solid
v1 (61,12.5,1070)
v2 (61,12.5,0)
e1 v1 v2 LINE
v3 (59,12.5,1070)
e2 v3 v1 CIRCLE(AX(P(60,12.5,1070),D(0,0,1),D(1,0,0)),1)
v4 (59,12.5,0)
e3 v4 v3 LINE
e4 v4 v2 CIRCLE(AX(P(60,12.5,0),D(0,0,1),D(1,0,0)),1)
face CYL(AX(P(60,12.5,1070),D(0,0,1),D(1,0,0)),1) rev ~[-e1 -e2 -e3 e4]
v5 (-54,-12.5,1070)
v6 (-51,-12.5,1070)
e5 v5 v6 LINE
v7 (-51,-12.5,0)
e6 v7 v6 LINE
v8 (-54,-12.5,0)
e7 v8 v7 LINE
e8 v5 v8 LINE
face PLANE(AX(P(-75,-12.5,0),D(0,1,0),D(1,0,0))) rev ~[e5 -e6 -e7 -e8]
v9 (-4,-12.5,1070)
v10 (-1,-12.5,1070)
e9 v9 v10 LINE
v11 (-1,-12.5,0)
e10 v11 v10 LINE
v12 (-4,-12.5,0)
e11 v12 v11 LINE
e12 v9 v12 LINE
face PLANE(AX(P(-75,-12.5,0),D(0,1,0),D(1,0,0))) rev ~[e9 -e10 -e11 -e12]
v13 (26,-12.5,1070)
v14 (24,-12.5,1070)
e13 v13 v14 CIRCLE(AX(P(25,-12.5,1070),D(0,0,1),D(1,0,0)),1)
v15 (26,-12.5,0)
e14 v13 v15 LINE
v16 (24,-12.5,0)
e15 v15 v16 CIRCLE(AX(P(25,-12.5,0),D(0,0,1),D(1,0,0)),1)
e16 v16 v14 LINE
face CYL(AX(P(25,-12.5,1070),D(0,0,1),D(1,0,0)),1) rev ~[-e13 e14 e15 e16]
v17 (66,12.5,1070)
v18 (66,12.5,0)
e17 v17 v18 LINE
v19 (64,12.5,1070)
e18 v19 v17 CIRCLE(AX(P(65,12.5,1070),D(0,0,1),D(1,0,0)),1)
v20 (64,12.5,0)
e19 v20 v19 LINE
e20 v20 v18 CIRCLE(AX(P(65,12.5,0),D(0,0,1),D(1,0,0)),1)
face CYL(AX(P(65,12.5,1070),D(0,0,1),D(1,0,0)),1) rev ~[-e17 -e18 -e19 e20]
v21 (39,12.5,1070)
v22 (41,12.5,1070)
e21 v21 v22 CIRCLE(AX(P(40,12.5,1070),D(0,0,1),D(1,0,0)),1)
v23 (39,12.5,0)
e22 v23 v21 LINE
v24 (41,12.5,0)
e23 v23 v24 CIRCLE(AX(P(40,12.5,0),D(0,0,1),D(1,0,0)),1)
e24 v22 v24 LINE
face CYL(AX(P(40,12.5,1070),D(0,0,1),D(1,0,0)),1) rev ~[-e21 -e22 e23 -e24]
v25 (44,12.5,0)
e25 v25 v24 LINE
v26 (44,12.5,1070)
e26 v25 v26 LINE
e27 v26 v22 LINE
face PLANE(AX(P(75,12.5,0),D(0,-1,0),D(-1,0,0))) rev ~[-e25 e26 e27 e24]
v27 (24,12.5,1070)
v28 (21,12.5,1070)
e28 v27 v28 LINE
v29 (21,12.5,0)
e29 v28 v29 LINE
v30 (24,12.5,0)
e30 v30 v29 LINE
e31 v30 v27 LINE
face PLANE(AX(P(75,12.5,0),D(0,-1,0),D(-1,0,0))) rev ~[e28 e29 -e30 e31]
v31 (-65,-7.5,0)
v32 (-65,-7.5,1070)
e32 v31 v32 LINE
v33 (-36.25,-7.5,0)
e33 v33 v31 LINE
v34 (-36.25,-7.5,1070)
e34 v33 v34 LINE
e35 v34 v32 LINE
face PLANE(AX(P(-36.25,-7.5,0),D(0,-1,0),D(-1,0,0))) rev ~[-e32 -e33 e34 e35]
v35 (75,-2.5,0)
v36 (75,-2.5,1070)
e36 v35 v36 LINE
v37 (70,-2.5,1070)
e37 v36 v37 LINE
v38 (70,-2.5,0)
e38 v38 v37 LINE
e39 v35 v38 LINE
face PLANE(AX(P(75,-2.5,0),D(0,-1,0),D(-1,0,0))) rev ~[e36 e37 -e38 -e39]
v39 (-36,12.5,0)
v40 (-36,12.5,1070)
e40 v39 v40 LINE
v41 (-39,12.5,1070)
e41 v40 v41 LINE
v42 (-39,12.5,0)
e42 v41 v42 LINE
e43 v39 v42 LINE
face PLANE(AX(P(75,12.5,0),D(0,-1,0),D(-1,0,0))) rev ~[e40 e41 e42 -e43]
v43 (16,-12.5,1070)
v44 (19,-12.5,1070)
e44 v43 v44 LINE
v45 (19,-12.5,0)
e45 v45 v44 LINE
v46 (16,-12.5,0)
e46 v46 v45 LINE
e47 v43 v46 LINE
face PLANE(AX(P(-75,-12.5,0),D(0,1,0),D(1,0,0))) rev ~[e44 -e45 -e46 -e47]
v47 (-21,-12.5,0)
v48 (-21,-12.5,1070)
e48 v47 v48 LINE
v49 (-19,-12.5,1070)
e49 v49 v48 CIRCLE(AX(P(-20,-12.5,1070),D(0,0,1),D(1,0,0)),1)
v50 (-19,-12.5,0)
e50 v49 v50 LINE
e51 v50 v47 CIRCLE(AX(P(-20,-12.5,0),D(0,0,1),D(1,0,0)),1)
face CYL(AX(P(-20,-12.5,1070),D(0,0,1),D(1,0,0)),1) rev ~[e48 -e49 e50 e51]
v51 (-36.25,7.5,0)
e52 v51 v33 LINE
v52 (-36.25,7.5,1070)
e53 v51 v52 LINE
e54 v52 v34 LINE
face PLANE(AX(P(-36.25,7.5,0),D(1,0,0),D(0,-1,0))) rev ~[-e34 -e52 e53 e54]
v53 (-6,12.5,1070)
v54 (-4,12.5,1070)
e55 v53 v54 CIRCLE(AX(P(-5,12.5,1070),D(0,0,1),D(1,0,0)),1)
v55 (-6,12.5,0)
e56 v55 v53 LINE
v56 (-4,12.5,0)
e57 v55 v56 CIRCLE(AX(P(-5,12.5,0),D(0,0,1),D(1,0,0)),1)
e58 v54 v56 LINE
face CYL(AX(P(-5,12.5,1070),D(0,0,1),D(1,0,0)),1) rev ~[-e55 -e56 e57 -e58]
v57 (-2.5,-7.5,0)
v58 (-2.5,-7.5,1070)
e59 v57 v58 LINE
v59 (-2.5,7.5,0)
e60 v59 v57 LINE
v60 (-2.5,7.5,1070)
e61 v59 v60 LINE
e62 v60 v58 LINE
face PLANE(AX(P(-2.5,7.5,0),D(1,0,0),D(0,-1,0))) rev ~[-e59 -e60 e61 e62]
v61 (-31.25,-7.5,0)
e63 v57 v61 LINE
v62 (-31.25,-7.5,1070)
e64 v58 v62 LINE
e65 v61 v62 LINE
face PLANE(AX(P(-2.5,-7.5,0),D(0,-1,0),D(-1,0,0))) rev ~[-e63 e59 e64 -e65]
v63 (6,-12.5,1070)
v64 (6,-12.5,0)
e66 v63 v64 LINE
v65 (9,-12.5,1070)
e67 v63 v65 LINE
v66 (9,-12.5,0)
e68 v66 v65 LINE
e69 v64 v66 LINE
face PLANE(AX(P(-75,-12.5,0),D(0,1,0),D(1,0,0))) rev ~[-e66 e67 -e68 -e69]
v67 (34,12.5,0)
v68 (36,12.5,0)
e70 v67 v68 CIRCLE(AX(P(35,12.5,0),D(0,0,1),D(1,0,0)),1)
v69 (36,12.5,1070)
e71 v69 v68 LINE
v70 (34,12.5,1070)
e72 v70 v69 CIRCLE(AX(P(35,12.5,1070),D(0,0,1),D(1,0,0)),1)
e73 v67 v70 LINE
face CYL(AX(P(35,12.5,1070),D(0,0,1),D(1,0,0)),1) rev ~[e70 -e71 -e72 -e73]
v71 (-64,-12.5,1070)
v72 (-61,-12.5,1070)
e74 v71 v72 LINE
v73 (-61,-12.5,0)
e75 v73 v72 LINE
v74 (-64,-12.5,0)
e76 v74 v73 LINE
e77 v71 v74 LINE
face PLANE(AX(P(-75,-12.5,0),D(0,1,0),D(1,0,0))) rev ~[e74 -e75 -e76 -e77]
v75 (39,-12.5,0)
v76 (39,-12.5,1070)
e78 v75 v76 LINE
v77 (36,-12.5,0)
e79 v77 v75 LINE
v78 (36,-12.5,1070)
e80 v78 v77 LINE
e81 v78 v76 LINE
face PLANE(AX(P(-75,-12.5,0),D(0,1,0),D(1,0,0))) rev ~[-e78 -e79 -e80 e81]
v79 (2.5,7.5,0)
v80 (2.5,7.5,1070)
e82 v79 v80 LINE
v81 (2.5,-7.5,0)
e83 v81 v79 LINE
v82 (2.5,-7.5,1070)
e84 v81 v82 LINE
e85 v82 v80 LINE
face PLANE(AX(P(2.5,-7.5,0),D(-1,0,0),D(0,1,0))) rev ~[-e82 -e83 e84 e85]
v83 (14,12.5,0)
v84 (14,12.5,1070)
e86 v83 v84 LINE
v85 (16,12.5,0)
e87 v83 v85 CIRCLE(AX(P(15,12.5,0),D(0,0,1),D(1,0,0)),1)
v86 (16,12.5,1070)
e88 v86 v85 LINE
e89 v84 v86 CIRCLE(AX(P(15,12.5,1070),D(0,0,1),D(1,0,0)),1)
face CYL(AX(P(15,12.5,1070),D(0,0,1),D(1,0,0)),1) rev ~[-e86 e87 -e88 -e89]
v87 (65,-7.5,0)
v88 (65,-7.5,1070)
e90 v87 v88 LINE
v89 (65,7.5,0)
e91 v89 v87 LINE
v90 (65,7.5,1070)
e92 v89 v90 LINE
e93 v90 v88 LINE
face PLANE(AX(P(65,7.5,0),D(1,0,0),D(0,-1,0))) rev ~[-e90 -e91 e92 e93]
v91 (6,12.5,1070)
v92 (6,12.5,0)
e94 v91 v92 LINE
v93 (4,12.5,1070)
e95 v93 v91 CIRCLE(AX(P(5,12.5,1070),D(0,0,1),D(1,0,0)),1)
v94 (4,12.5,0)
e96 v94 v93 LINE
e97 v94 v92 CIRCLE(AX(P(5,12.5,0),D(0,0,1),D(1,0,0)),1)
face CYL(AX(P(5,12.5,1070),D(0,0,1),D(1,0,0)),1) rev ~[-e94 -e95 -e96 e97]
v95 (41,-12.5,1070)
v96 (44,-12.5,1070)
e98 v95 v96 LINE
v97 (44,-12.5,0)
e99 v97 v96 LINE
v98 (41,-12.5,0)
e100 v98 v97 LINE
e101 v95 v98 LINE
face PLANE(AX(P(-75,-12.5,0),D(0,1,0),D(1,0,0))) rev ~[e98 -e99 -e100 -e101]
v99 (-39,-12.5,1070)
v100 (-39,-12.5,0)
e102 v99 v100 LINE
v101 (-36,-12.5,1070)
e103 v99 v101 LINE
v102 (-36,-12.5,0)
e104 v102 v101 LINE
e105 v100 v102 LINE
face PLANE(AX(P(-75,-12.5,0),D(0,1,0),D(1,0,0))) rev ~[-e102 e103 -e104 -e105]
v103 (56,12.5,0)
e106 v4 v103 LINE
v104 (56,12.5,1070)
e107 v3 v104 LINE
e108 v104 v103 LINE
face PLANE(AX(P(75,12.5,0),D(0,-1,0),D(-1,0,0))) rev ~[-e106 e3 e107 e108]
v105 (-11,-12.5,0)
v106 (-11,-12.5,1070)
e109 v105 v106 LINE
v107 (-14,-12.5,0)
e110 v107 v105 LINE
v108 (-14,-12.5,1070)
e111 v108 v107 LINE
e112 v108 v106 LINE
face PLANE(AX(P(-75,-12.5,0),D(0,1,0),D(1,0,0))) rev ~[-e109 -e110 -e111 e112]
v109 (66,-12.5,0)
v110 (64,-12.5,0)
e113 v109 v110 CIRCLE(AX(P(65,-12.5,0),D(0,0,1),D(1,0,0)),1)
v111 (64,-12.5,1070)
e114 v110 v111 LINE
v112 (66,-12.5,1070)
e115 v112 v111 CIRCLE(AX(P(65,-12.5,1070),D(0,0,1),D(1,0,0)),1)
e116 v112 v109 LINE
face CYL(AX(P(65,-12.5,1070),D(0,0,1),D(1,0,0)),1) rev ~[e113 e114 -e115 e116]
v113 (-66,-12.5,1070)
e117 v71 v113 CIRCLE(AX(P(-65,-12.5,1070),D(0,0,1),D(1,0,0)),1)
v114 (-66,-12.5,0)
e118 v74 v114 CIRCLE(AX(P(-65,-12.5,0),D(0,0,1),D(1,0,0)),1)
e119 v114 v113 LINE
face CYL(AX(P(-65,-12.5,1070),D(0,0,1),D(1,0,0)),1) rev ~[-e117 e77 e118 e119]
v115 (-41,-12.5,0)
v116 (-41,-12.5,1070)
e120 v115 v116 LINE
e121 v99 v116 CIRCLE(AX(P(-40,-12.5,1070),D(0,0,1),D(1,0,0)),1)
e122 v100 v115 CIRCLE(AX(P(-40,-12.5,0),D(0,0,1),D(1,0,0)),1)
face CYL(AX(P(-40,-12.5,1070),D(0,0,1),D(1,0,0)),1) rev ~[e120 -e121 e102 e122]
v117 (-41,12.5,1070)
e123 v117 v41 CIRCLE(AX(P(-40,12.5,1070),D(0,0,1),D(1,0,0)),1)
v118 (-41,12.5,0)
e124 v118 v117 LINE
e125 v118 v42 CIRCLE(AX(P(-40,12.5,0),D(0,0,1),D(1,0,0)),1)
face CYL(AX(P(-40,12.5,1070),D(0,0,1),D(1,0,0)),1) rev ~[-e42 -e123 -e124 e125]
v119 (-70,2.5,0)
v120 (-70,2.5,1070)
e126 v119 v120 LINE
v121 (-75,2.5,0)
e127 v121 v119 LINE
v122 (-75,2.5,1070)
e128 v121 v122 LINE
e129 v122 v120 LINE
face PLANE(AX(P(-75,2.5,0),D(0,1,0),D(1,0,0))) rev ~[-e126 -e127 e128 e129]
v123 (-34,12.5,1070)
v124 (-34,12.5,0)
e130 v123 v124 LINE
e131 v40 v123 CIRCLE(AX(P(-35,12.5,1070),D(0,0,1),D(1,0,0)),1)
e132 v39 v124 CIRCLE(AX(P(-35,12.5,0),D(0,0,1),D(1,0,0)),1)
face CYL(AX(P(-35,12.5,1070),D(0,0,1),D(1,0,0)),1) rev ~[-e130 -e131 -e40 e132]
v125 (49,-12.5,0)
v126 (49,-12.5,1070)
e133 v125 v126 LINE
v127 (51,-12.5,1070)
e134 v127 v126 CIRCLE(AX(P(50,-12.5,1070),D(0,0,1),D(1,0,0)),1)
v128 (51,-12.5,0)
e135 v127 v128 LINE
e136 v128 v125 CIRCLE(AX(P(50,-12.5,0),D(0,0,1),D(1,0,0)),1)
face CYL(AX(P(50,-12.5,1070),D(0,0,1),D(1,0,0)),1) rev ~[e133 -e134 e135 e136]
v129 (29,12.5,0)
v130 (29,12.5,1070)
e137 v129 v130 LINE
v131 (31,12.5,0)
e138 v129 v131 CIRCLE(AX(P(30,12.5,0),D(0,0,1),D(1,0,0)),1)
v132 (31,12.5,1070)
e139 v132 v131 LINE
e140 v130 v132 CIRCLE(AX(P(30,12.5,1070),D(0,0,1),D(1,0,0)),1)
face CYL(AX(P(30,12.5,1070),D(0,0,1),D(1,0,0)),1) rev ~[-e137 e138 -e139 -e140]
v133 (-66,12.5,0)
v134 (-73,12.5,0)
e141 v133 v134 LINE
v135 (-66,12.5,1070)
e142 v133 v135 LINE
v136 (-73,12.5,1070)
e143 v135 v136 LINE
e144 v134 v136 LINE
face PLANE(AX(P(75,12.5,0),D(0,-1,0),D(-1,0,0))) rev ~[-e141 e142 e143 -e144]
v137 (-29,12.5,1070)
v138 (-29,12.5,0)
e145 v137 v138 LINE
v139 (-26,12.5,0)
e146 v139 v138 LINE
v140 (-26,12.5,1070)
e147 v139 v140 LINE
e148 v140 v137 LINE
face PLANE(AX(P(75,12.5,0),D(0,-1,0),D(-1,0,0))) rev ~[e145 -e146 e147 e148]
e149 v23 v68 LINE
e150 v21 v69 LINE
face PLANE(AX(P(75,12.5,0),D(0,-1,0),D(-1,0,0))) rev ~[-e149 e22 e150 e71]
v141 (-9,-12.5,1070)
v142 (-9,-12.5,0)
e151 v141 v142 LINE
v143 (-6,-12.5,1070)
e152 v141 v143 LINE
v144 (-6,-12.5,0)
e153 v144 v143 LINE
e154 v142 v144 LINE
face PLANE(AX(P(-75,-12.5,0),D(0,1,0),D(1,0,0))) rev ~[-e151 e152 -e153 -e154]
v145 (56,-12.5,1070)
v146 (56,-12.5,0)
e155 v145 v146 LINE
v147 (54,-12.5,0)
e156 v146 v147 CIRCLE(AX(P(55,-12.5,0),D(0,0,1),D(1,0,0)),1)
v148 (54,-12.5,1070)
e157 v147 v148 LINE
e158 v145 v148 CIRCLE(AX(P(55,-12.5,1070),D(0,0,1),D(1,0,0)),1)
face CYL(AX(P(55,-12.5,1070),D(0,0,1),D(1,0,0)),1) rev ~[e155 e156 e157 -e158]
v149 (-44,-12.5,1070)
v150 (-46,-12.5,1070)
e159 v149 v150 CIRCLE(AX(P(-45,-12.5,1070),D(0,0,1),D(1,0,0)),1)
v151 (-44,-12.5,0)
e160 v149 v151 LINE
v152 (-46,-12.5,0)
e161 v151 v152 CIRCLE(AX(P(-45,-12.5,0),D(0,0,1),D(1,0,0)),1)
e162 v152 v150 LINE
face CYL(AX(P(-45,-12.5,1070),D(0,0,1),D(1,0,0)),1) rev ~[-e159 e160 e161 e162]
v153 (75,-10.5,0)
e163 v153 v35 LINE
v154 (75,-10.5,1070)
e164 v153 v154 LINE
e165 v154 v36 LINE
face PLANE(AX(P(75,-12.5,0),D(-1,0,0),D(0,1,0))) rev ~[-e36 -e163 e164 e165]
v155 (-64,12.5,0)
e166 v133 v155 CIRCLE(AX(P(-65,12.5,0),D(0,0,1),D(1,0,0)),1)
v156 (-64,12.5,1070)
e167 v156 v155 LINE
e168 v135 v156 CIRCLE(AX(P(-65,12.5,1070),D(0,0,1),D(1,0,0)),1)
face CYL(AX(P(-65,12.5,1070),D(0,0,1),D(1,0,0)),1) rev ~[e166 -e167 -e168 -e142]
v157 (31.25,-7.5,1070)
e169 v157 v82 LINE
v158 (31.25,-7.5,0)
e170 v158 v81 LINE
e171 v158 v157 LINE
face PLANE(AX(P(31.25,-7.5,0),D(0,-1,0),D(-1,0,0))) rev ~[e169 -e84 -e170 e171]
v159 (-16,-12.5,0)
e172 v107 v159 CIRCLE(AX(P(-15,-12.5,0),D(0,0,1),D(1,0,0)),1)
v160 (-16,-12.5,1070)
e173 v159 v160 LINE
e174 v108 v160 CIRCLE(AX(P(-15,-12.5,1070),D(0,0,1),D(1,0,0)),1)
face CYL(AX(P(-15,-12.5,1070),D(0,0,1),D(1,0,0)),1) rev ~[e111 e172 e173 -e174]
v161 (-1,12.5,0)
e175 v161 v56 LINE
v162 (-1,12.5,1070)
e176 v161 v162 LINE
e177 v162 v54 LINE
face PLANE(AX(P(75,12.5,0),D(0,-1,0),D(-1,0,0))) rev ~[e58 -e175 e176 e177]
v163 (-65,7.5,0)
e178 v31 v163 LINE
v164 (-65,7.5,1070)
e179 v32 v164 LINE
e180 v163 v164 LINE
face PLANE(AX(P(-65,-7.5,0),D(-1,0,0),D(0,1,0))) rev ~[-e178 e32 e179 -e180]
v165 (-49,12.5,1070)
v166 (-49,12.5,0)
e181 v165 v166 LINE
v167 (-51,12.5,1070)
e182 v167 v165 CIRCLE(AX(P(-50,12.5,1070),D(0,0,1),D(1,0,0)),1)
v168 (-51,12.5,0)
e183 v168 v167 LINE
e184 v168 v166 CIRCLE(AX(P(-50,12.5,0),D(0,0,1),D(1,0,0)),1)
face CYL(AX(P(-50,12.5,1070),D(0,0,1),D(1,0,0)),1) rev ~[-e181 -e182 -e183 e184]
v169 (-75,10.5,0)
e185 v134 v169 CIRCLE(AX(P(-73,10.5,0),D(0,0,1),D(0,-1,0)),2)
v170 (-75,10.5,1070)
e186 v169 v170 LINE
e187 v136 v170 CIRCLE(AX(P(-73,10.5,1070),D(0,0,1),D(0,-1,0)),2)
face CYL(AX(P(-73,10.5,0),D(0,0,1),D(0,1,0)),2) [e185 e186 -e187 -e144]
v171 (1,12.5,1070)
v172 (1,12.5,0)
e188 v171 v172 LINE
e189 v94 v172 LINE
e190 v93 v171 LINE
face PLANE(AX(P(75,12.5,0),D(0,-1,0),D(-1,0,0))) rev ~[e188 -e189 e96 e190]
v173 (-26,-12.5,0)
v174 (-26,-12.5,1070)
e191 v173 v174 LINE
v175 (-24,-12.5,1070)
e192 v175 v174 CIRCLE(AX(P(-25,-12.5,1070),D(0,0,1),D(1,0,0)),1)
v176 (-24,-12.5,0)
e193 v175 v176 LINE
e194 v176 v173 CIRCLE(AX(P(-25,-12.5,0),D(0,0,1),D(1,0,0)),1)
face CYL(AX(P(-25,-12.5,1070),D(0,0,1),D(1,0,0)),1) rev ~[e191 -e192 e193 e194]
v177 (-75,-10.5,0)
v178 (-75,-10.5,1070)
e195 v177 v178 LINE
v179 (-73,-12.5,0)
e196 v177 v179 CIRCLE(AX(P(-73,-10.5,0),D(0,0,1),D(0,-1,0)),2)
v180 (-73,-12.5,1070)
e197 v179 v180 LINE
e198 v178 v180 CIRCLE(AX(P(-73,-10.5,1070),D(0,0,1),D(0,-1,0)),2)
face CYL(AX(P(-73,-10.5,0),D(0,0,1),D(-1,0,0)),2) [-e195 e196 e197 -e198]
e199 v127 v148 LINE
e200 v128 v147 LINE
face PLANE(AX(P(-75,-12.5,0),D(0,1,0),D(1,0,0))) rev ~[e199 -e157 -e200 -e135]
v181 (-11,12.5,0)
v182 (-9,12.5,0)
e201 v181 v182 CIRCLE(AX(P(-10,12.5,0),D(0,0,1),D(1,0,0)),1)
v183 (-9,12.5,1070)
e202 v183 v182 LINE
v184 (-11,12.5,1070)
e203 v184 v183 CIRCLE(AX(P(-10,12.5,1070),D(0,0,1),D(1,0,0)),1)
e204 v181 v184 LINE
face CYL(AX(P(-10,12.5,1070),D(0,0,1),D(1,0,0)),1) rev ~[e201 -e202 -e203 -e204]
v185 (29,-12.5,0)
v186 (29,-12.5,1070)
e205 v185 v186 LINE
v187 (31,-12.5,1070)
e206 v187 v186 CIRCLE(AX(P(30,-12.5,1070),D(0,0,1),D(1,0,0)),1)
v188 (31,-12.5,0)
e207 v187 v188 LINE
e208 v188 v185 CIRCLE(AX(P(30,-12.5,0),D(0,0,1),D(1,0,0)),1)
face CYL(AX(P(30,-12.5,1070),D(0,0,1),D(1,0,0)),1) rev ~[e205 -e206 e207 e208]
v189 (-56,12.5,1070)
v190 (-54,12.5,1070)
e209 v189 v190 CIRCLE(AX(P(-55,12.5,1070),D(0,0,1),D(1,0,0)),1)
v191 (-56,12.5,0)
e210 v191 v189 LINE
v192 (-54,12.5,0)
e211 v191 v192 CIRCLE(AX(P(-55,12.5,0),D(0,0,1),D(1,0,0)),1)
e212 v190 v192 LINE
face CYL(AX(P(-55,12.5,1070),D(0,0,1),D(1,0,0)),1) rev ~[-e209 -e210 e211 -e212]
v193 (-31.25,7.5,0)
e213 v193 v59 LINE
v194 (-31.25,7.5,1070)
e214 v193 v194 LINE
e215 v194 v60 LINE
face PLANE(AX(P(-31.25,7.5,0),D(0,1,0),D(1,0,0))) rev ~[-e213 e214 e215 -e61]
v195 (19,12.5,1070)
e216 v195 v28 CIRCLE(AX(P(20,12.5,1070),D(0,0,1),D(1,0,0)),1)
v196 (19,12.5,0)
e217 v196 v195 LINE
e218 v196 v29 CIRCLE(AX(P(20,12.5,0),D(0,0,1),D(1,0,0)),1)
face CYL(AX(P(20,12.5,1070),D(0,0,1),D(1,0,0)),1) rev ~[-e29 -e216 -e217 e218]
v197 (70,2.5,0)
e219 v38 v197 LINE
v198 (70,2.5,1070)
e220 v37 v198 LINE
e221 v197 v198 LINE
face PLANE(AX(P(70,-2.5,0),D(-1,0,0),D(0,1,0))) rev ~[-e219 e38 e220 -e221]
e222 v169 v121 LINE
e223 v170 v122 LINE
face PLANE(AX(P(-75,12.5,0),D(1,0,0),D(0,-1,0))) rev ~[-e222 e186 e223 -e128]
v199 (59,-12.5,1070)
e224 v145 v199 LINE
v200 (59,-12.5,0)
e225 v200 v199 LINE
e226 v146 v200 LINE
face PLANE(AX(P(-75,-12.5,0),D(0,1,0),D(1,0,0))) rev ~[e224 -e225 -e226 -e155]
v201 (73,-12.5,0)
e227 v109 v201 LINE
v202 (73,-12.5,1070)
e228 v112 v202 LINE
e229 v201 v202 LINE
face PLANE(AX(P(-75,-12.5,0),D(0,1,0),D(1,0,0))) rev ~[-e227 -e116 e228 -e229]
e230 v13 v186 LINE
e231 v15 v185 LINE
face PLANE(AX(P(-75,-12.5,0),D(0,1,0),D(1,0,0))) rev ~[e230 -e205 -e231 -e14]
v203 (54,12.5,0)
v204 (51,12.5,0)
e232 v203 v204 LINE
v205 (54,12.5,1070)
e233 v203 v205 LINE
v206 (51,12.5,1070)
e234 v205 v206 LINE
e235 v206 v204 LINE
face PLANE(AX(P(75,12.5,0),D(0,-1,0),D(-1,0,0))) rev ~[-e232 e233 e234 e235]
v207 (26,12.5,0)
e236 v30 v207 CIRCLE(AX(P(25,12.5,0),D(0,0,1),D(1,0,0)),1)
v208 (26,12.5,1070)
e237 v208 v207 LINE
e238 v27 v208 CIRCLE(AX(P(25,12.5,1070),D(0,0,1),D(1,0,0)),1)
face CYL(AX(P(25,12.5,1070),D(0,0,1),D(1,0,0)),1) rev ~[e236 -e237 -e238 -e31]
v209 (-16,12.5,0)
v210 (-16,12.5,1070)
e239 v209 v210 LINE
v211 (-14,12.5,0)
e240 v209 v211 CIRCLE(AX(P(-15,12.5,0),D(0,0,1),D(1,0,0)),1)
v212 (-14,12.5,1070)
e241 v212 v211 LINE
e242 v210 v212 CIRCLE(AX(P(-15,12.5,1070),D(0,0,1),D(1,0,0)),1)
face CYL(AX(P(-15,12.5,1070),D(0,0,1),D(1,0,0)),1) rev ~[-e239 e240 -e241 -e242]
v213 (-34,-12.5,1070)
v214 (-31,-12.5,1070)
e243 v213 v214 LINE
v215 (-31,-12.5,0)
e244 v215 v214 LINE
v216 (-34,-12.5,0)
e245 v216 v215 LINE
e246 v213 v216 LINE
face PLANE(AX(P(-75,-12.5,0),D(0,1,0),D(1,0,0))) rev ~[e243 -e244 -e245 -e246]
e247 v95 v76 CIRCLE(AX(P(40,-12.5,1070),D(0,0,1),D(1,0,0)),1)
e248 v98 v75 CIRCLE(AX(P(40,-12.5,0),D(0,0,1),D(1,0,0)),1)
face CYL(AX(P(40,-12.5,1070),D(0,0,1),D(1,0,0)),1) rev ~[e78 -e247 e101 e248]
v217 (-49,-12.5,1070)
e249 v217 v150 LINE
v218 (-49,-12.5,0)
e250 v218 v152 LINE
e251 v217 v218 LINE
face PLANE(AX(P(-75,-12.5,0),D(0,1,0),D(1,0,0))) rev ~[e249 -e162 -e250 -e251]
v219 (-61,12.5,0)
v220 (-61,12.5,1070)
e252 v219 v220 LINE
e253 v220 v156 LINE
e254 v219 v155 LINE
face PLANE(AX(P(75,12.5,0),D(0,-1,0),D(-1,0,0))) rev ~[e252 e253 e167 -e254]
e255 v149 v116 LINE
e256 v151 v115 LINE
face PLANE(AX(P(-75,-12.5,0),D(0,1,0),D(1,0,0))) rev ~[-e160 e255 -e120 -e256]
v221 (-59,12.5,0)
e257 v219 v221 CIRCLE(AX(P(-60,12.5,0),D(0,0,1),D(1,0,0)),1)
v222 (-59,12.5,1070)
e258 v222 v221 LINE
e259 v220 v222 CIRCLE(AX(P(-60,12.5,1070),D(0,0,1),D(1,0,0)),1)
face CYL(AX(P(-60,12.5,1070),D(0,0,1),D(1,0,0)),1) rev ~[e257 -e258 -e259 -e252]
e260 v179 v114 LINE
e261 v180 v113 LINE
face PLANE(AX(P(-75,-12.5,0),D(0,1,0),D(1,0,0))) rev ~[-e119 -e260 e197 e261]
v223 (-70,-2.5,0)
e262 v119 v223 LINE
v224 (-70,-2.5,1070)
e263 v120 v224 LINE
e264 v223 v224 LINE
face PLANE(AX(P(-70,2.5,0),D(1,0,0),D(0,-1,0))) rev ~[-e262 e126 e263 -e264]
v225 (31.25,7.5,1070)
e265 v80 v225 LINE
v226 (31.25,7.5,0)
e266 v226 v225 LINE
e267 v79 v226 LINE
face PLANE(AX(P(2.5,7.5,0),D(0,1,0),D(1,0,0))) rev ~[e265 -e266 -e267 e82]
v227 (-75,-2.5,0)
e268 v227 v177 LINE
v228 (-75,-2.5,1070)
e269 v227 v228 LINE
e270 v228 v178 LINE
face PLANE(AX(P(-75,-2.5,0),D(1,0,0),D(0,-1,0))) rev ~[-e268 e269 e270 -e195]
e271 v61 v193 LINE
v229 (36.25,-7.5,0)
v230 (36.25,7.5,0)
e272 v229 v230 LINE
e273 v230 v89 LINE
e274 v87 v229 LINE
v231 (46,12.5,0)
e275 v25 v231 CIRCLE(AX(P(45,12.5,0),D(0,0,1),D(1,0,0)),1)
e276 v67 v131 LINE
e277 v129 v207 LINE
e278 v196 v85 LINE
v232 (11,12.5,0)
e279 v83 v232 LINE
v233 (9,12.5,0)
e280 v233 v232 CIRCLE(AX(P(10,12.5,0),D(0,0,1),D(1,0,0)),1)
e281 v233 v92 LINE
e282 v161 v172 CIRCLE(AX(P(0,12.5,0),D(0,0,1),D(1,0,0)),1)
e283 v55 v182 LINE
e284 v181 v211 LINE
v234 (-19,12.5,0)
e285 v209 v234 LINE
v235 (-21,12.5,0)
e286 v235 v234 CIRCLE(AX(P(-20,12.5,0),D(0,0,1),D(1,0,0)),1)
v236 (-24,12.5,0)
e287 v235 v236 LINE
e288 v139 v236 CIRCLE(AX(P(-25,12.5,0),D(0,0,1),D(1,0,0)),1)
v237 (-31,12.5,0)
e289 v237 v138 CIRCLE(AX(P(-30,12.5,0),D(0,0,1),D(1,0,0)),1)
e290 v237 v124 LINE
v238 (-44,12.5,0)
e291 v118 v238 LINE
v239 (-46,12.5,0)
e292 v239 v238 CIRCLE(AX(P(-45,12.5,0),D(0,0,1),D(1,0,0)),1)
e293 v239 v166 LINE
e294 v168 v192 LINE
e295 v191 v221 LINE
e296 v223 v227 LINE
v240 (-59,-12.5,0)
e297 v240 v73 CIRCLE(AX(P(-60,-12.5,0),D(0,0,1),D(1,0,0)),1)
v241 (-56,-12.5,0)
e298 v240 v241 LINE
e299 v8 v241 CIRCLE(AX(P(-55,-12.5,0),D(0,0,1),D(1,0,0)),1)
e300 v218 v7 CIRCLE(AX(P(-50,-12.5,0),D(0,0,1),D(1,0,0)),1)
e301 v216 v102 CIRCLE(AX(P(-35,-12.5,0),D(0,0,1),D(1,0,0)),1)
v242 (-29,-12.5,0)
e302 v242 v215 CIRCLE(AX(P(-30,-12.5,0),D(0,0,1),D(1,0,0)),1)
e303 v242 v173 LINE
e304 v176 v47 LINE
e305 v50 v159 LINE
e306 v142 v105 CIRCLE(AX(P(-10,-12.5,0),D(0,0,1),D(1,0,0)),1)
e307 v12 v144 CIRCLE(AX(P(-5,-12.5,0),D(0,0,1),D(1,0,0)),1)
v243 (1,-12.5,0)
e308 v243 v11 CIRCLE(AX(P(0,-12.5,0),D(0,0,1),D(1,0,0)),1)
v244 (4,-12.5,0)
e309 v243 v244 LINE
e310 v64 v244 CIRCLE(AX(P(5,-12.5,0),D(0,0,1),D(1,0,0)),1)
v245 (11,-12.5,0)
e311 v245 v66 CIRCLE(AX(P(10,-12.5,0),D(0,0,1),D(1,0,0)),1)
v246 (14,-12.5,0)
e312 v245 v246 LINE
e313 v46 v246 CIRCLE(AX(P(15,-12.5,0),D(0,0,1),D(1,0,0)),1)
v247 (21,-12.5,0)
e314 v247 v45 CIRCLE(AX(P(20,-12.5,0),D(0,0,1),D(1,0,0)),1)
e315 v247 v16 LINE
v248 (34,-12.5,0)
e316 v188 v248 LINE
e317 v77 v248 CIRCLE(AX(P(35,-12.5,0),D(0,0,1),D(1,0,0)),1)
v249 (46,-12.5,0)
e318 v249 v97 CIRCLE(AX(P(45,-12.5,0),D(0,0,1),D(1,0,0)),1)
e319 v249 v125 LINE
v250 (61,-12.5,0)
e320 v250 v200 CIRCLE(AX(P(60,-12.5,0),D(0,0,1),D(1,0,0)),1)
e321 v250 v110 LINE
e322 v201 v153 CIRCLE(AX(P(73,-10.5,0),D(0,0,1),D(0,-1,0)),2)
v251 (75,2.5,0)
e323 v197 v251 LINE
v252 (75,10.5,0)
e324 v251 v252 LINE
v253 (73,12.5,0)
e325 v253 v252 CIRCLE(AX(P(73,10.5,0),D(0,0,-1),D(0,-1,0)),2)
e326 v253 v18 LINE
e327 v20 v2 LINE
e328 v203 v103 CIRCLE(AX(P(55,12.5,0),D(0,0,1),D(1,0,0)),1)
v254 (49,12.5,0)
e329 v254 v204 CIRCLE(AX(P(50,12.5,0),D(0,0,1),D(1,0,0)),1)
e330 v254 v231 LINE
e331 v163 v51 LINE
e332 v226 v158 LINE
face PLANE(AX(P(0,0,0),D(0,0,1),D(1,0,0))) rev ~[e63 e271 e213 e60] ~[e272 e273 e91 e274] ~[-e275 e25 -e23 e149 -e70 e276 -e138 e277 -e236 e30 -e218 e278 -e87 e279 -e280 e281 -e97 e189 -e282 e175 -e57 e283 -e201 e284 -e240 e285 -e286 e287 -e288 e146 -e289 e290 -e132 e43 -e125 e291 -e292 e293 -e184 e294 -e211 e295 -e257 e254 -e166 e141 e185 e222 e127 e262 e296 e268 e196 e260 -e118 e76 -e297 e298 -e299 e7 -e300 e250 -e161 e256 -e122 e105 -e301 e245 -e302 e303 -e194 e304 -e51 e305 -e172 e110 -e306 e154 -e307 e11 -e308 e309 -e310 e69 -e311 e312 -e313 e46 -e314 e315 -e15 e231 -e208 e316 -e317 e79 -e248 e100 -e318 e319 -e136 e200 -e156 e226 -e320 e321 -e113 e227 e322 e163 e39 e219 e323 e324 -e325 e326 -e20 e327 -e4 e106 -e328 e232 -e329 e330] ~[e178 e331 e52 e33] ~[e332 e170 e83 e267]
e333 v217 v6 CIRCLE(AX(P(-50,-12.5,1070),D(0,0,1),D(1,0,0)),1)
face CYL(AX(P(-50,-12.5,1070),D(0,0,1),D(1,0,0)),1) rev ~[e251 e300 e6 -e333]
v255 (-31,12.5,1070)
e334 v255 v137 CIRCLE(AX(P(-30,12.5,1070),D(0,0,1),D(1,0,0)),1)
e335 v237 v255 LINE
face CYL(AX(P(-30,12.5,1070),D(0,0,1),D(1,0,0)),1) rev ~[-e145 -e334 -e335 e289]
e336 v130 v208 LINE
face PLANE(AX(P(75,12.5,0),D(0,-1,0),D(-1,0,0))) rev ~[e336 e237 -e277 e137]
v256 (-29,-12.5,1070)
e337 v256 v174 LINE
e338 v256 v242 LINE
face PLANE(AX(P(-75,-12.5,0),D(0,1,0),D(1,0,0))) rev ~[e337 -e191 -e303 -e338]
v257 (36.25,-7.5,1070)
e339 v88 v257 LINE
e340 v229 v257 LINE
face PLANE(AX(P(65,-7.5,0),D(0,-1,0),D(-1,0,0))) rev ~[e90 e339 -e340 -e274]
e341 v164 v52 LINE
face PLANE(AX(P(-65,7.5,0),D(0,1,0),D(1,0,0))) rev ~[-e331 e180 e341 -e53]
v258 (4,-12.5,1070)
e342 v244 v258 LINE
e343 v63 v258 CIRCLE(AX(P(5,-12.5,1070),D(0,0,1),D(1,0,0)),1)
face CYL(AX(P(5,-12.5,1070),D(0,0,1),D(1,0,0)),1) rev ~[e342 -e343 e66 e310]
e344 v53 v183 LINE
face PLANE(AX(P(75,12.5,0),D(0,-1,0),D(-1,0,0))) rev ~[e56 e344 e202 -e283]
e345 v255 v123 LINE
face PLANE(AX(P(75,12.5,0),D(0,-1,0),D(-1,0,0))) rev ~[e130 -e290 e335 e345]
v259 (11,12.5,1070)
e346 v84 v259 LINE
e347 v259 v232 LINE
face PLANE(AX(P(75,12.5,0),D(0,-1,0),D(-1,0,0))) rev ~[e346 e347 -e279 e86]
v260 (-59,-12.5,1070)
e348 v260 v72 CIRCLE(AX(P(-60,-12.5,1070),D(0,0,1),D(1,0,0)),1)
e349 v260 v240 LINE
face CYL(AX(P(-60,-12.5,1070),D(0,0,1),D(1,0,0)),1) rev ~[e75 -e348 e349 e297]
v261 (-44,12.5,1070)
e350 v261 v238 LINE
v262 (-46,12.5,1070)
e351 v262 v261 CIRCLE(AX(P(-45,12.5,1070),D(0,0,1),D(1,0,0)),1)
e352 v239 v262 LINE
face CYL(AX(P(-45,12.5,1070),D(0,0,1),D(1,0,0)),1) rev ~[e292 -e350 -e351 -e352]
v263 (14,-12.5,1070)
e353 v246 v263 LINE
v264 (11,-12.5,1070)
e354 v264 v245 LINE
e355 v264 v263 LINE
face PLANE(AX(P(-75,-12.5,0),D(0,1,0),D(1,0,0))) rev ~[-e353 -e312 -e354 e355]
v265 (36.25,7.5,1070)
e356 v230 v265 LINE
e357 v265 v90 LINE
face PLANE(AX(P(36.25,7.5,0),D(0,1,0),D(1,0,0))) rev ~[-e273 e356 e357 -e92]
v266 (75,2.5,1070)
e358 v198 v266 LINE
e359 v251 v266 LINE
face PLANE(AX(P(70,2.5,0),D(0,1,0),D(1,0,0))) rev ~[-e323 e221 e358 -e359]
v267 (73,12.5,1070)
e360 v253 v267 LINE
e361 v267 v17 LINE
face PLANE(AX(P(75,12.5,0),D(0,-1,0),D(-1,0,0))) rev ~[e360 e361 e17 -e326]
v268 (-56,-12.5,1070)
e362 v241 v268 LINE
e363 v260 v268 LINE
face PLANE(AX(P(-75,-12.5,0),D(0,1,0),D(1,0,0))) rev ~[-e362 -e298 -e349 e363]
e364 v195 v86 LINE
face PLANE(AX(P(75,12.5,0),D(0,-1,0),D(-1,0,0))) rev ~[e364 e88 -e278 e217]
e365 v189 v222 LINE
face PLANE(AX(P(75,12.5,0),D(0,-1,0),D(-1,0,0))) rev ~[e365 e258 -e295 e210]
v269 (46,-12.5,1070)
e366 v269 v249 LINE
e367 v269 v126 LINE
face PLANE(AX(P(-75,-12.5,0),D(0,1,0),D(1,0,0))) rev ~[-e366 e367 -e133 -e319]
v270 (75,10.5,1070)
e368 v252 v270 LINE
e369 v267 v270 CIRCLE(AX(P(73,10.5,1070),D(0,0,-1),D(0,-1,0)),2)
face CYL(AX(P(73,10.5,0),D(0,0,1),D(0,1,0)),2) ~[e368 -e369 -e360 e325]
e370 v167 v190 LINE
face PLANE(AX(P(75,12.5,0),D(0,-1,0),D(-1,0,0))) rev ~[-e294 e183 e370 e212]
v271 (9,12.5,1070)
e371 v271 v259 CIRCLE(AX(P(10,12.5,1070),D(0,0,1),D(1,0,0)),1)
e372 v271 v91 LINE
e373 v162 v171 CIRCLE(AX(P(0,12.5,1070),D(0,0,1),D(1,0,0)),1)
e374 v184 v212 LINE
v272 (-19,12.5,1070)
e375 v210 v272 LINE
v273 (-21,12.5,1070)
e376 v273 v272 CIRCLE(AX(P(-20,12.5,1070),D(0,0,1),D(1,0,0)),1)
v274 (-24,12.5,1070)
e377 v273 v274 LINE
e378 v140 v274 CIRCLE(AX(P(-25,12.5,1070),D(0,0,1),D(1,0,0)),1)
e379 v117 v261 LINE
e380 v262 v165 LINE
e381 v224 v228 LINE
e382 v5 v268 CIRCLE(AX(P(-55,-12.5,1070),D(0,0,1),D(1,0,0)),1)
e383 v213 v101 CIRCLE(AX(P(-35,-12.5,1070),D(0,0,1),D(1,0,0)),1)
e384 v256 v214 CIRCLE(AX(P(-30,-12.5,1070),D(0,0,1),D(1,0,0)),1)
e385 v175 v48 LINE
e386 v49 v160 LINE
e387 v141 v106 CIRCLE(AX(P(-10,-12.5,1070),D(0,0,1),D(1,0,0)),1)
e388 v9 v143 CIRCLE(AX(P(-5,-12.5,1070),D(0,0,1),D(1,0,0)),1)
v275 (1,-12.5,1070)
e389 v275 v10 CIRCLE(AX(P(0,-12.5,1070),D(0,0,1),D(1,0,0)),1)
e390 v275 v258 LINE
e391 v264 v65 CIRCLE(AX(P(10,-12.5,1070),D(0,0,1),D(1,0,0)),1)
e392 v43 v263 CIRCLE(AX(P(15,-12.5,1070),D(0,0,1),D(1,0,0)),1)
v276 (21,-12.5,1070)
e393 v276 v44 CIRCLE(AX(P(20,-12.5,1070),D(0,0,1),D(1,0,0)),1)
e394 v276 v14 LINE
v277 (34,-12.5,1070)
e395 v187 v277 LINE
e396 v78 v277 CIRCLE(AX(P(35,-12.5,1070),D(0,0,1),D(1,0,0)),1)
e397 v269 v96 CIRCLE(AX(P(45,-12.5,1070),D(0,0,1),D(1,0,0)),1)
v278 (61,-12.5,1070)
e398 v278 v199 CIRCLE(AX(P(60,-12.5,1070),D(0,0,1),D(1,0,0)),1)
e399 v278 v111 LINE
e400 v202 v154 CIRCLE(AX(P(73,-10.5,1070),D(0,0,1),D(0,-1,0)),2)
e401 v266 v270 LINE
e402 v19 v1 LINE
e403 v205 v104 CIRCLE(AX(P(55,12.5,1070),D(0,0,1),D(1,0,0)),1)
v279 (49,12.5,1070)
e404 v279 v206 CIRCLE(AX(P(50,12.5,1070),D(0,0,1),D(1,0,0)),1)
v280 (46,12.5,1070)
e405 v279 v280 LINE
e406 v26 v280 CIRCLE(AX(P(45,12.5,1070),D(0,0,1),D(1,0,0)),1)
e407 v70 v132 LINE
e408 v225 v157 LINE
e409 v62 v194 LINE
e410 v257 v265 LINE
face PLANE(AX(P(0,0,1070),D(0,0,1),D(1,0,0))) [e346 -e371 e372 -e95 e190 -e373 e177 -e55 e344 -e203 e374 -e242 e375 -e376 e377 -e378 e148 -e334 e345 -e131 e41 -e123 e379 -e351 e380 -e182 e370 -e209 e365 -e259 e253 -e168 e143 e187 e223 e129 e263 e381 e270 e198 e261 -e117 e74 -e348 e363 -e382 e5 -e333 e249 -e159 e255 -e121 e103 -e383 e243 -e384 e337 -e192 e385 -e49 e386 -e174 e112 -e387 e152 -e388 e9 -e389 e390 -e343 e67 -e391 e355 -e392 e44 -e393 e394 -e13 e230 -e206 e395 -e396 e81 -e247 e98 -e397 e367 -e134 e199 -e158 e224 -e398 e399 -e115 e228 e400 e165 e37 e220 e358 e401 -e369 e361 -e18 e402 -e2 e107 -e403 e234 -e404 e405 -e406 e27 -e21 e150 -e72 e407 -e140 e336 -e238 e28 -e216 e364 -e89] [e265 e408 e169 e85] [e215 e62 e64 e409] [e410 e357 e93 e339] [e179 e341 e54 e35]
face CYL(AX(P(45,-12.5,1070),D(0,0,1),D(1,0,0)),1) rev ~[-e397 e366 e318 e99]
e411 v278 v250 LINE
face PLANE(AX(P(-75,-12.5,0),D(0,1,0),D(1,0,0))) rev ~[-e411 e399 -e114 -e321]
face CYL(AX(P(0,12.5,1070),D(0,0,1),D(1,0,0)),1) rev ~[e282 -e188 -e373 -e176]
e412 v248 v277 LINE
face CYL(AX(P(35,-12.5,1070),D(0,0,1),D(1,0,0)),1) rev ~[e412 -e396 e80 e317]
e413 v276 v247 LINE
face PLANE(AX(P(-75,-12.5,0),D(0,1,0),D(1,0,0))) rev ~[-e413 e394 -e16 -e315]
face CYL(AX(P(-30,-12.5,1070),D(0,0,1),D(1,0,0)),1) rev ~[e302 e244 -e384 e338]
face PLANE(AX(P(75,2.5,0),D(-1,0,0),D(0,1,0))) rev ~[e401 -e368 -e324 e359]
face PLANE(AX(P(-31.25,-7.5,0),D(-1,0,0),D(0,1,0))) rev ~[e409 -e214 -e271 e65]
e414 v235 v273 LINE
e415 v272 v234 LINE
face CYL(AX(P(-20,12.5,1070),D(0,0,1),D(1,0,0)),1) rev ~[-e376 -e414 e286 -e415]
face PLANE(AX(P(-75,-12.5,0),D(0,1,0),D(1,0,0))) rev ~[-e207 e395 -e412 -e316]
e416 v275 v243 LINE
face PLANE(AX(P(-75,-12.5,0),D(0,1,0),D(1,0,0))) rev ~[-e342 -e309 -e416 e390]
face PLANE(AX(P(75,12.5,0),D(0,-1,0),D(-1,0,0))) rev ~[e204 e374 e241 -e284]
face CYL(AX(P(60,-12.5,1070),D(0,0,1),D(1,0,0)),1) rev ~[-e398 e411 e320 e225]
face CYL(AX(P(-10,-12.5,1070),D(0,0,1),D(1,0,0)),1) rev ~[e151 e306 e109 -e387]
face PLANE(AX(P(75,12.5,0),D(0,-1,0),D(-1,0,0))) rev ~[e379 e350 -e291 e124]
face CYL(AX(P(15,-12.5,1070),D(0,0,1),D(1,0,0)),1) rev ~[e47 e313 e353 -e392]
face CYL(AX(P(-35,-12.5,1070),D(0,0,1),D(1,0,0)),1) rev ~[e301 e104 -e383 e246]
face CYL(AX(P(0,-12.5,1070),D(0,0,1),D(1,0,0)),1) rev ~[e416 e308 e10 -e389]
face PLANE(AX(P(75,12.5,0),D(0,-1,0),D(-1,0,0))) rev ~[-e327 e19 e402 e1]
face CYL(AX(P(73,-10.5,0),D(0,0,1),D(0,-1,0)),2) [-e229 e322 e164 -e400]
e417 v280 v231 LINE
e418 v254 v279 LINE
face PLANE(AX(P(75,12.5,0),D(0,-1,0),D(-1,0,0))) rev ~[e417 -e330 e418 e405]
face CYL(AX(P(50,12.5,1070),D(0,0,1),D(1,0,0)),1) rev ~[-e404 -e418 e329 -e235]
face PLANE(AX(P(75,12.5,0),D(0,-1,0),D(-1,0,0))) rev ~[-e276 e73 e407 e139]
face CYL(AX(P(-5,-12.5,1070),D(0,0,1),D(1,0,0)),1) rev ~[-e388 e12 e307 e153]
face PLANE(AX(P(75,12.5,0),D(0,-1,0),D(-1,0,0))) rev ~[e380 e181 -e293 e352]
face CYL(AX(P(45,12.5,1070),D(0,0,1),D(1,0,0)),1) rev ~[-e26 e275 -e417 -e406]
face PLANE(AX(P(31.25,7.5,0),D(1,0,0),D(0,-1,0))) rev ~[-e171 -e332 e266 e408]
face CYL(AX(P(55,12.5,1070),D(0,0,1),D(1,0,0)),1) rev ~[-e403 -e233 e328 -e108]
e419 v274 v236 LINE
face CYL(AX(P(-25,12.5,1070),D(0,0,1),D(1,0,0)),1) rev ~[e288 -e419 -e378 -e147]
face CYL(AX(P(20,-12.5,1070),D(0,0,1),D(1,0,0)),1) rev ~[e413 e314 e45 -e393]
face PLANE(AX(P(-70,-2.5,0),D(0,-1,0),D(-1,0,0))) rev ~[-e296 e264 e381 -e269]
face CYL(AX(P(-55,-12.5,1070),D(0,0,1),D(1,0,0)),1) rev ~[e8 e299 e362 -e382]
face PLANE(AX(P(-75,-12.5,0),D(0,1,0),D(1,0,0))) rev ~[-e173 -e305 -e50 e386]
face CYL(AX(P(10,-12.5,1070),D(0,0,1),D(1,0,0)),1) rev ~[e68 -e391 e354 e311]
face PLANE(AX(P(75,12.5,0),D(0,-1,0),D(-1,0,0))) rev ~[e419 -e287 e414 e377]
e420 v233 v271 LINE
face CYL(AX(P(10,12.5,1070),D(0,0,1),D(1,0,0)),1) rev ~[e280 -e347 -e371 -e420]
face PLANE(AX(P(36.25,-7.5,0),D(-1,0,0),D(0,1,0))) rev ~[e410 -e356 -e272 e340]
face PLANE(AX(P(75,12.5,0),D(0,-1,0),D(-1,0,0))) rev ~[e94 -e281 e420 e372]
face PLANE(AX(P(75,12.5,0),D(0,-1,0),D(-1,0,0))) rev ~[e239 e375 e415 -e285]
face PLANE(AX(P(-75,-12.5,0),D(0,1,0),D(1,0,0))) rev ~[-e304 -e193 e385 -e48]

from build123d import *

# Parameters (mm, degrees)
F1_DEPTH = 1070
F2_R     = 2
F3_R     = 1
F4_DEPTH = 1070


with BuildPart() as f1:
    # F0 (on Top) → F1 (new body)
    with BuildSketch(Plane.XY):
        Polygon((75, 12.5), (0, 12.5), (-75, 12.5), (-75, 2.5), (-70, 2.5), (-70, 0), (-70, -2.5), (-75, -2.5), (-75, -12.5), (0, -12.5), (75, -12.5), (75, -2.5), (70, -2.5), (70, 0), (70, 2.5), (75, 2.5), align=None)
        Polygon((-65, -7.5), (-65, 0), (-65, 7.5), (-36.25, 7.5), (-36.25, 0), (-36.25, -7.5), align=None, mode=Mode.SUBTRACT)
        Polygon((-31.25, -7.5), (-31.25, 0), (-31.25, 7.5), (-2.5, 7.5), (-2.5, 0), (-2.5, -7.5), align=None, mode=Mode.SUBTRACT)
        Polygon((2.5, 0), (2.5, 7.5), (31.25, 7.5), (31.25, 0), (31.25, -7.5), (2.5, -7.5), align=None, mode=Mode.SUBTRACT)
        Polygon((65, 7.5), (65, 0), (65, -7.5), (36.25, -7.5), (36.25, 0), (36.25, 7.5), align=None, mode=Mode.SUBTRACT)
    extrude(amount=F1_DEPTH)

    # F2
    f2_edges = [f1.edges().sort_by_distance(p)[0] for p in [
        (75, -12.5, 535),
        (75, 12.5, 535),
        (-75, -12.5, 535),
        (-75, 12.5, 535),
    ]]
    fillet(f2_edges, radius=F2_R)

    # F3 (on face) → F4 (cut)
    with BuildSketch(Plane.XY.offset(1070)):
        with Locations((-65, 12.5)):
            Circle(F3_R)
        with Locations((-65, -12.5)):
            Circle(F3_R)
        with Locations((-60, 12.5)):
            Circle(F3_R)
        with Locations((-60, -12.5)):
            Circle(F3_R)
        with Locations((-55, 12.5)):
            Circle(F3_R)
        with Locations((-55, -12.5)):
            Circle(F3_R)
        with Locations((-50, 12.5)):
            Circle(F3_R)
        with Locations((-50, -12.5)):
            Circle(F3_R)
        with Locations((-45, 12.5)):
            Circle(F3_R)
        with Locations((-45, -12.5)):
            Circle(F3_R)
        with Locations((-40, 12.5)):
            Circle(F3_R)
        with Locations((-40, -12.5)):
            Circle(F3_R)
        with Locations((-35, 12.5)):
            Circle(F3_R)
        with Locations((-35, -12.5)):
            Circle(F3_R)
        with Locations((-30, 12.5)):
            Circle(F3_R)
        with Locations((-30, -12.5)):
            Circle(F3_R)
        with Locations((-25, 12.5)):
            Circle(F3_R)
        with Locations((-25, -12.5)):
            Circle(F3_R)
        with Locations((-20, 12.5)):
            Circle(F3_R)
        with Locations((-20, -12.5)):
            Circle(F3_R)
        with Locations((-15, 12.5)):
            Circle(F3_R)
        with Locations((-15, -12.5)):
            Circle(F3_R)
        with Locations((-10, 12.5)):
            Circle(F3_R)
        with Locations((-10, -12.5)):
            Circle(F3_R)
        with Locations((-5, 12.5)):
            Circle(F3_R)
        with Locations((-5, -12.5)):
            Circle(F3_R)
        with Locations((0, 12.5)):
            Circle(F3_R)
        with Locations((0, -12.5)):
            Circle(F3_R)
        with Locations((5, 12.5)):
            Circle(F3_R)
        with Locations((5, -12.5)):
            Circle(F3_R)
        with Locations((10, 12.5)):
            Circle(F3_R)
        with Locations((10, -12.5)):
            Circle(F3_R)
        with Locations((15, 12.5)):
            Circle(F3_R)
        with Locations((15, -12.5)):
            Circle(F3_R)
        with Locations((20, 12.5)):
            Circle(F3_R)
        with Locations((20, -12.5)):
            Circle(F3_R)
        with Locations((25, 12.5)):
            Circle(F3_R)
        with Locations((25, -12.5)):
            Circle(F3_R)
        with Locations((30, 12.5)):
            Circle(F3_R)
        with Locations((30, -12.5)):
            Circle(F3_R)
        with Locations((35, 12.5)):
            Circle(F3_R)
        with Locations((35, -12.5)):
            Circle(F3_R)
        with Locations((40, 12.5)):
            Circle(F3_R)
        with Locations((40, -12.5)):
            Circle(F3_R)
        with Locations((45, 12.5)):
            Circle(F3_R)
        with Locations((45, -12.5)):
            Circle(F3_R)
        with Locations((50, 12.5)):
            Circle(F3_R)
        with Locations((50, -12.5)):
            Circle(F3_R)
        with Locations((55, 12.5)):
            Circle(F3_R)
        with Locations((55, -12.5)):
            Circle(F3_R)
        with Locations((60, 12.5)):
            Circle(F3_R)
        with Locations((60, -12.5)):
            Circle(F3_R)
        with Locations((65, 12.5)):
            Circle(F3_R)
        with Locations((65, -12.5)):
            Circle(F3_R)
    extrude(amount=-F4_DEPTH, mode=Mode.SUBTRACT)


solid = f1.part
